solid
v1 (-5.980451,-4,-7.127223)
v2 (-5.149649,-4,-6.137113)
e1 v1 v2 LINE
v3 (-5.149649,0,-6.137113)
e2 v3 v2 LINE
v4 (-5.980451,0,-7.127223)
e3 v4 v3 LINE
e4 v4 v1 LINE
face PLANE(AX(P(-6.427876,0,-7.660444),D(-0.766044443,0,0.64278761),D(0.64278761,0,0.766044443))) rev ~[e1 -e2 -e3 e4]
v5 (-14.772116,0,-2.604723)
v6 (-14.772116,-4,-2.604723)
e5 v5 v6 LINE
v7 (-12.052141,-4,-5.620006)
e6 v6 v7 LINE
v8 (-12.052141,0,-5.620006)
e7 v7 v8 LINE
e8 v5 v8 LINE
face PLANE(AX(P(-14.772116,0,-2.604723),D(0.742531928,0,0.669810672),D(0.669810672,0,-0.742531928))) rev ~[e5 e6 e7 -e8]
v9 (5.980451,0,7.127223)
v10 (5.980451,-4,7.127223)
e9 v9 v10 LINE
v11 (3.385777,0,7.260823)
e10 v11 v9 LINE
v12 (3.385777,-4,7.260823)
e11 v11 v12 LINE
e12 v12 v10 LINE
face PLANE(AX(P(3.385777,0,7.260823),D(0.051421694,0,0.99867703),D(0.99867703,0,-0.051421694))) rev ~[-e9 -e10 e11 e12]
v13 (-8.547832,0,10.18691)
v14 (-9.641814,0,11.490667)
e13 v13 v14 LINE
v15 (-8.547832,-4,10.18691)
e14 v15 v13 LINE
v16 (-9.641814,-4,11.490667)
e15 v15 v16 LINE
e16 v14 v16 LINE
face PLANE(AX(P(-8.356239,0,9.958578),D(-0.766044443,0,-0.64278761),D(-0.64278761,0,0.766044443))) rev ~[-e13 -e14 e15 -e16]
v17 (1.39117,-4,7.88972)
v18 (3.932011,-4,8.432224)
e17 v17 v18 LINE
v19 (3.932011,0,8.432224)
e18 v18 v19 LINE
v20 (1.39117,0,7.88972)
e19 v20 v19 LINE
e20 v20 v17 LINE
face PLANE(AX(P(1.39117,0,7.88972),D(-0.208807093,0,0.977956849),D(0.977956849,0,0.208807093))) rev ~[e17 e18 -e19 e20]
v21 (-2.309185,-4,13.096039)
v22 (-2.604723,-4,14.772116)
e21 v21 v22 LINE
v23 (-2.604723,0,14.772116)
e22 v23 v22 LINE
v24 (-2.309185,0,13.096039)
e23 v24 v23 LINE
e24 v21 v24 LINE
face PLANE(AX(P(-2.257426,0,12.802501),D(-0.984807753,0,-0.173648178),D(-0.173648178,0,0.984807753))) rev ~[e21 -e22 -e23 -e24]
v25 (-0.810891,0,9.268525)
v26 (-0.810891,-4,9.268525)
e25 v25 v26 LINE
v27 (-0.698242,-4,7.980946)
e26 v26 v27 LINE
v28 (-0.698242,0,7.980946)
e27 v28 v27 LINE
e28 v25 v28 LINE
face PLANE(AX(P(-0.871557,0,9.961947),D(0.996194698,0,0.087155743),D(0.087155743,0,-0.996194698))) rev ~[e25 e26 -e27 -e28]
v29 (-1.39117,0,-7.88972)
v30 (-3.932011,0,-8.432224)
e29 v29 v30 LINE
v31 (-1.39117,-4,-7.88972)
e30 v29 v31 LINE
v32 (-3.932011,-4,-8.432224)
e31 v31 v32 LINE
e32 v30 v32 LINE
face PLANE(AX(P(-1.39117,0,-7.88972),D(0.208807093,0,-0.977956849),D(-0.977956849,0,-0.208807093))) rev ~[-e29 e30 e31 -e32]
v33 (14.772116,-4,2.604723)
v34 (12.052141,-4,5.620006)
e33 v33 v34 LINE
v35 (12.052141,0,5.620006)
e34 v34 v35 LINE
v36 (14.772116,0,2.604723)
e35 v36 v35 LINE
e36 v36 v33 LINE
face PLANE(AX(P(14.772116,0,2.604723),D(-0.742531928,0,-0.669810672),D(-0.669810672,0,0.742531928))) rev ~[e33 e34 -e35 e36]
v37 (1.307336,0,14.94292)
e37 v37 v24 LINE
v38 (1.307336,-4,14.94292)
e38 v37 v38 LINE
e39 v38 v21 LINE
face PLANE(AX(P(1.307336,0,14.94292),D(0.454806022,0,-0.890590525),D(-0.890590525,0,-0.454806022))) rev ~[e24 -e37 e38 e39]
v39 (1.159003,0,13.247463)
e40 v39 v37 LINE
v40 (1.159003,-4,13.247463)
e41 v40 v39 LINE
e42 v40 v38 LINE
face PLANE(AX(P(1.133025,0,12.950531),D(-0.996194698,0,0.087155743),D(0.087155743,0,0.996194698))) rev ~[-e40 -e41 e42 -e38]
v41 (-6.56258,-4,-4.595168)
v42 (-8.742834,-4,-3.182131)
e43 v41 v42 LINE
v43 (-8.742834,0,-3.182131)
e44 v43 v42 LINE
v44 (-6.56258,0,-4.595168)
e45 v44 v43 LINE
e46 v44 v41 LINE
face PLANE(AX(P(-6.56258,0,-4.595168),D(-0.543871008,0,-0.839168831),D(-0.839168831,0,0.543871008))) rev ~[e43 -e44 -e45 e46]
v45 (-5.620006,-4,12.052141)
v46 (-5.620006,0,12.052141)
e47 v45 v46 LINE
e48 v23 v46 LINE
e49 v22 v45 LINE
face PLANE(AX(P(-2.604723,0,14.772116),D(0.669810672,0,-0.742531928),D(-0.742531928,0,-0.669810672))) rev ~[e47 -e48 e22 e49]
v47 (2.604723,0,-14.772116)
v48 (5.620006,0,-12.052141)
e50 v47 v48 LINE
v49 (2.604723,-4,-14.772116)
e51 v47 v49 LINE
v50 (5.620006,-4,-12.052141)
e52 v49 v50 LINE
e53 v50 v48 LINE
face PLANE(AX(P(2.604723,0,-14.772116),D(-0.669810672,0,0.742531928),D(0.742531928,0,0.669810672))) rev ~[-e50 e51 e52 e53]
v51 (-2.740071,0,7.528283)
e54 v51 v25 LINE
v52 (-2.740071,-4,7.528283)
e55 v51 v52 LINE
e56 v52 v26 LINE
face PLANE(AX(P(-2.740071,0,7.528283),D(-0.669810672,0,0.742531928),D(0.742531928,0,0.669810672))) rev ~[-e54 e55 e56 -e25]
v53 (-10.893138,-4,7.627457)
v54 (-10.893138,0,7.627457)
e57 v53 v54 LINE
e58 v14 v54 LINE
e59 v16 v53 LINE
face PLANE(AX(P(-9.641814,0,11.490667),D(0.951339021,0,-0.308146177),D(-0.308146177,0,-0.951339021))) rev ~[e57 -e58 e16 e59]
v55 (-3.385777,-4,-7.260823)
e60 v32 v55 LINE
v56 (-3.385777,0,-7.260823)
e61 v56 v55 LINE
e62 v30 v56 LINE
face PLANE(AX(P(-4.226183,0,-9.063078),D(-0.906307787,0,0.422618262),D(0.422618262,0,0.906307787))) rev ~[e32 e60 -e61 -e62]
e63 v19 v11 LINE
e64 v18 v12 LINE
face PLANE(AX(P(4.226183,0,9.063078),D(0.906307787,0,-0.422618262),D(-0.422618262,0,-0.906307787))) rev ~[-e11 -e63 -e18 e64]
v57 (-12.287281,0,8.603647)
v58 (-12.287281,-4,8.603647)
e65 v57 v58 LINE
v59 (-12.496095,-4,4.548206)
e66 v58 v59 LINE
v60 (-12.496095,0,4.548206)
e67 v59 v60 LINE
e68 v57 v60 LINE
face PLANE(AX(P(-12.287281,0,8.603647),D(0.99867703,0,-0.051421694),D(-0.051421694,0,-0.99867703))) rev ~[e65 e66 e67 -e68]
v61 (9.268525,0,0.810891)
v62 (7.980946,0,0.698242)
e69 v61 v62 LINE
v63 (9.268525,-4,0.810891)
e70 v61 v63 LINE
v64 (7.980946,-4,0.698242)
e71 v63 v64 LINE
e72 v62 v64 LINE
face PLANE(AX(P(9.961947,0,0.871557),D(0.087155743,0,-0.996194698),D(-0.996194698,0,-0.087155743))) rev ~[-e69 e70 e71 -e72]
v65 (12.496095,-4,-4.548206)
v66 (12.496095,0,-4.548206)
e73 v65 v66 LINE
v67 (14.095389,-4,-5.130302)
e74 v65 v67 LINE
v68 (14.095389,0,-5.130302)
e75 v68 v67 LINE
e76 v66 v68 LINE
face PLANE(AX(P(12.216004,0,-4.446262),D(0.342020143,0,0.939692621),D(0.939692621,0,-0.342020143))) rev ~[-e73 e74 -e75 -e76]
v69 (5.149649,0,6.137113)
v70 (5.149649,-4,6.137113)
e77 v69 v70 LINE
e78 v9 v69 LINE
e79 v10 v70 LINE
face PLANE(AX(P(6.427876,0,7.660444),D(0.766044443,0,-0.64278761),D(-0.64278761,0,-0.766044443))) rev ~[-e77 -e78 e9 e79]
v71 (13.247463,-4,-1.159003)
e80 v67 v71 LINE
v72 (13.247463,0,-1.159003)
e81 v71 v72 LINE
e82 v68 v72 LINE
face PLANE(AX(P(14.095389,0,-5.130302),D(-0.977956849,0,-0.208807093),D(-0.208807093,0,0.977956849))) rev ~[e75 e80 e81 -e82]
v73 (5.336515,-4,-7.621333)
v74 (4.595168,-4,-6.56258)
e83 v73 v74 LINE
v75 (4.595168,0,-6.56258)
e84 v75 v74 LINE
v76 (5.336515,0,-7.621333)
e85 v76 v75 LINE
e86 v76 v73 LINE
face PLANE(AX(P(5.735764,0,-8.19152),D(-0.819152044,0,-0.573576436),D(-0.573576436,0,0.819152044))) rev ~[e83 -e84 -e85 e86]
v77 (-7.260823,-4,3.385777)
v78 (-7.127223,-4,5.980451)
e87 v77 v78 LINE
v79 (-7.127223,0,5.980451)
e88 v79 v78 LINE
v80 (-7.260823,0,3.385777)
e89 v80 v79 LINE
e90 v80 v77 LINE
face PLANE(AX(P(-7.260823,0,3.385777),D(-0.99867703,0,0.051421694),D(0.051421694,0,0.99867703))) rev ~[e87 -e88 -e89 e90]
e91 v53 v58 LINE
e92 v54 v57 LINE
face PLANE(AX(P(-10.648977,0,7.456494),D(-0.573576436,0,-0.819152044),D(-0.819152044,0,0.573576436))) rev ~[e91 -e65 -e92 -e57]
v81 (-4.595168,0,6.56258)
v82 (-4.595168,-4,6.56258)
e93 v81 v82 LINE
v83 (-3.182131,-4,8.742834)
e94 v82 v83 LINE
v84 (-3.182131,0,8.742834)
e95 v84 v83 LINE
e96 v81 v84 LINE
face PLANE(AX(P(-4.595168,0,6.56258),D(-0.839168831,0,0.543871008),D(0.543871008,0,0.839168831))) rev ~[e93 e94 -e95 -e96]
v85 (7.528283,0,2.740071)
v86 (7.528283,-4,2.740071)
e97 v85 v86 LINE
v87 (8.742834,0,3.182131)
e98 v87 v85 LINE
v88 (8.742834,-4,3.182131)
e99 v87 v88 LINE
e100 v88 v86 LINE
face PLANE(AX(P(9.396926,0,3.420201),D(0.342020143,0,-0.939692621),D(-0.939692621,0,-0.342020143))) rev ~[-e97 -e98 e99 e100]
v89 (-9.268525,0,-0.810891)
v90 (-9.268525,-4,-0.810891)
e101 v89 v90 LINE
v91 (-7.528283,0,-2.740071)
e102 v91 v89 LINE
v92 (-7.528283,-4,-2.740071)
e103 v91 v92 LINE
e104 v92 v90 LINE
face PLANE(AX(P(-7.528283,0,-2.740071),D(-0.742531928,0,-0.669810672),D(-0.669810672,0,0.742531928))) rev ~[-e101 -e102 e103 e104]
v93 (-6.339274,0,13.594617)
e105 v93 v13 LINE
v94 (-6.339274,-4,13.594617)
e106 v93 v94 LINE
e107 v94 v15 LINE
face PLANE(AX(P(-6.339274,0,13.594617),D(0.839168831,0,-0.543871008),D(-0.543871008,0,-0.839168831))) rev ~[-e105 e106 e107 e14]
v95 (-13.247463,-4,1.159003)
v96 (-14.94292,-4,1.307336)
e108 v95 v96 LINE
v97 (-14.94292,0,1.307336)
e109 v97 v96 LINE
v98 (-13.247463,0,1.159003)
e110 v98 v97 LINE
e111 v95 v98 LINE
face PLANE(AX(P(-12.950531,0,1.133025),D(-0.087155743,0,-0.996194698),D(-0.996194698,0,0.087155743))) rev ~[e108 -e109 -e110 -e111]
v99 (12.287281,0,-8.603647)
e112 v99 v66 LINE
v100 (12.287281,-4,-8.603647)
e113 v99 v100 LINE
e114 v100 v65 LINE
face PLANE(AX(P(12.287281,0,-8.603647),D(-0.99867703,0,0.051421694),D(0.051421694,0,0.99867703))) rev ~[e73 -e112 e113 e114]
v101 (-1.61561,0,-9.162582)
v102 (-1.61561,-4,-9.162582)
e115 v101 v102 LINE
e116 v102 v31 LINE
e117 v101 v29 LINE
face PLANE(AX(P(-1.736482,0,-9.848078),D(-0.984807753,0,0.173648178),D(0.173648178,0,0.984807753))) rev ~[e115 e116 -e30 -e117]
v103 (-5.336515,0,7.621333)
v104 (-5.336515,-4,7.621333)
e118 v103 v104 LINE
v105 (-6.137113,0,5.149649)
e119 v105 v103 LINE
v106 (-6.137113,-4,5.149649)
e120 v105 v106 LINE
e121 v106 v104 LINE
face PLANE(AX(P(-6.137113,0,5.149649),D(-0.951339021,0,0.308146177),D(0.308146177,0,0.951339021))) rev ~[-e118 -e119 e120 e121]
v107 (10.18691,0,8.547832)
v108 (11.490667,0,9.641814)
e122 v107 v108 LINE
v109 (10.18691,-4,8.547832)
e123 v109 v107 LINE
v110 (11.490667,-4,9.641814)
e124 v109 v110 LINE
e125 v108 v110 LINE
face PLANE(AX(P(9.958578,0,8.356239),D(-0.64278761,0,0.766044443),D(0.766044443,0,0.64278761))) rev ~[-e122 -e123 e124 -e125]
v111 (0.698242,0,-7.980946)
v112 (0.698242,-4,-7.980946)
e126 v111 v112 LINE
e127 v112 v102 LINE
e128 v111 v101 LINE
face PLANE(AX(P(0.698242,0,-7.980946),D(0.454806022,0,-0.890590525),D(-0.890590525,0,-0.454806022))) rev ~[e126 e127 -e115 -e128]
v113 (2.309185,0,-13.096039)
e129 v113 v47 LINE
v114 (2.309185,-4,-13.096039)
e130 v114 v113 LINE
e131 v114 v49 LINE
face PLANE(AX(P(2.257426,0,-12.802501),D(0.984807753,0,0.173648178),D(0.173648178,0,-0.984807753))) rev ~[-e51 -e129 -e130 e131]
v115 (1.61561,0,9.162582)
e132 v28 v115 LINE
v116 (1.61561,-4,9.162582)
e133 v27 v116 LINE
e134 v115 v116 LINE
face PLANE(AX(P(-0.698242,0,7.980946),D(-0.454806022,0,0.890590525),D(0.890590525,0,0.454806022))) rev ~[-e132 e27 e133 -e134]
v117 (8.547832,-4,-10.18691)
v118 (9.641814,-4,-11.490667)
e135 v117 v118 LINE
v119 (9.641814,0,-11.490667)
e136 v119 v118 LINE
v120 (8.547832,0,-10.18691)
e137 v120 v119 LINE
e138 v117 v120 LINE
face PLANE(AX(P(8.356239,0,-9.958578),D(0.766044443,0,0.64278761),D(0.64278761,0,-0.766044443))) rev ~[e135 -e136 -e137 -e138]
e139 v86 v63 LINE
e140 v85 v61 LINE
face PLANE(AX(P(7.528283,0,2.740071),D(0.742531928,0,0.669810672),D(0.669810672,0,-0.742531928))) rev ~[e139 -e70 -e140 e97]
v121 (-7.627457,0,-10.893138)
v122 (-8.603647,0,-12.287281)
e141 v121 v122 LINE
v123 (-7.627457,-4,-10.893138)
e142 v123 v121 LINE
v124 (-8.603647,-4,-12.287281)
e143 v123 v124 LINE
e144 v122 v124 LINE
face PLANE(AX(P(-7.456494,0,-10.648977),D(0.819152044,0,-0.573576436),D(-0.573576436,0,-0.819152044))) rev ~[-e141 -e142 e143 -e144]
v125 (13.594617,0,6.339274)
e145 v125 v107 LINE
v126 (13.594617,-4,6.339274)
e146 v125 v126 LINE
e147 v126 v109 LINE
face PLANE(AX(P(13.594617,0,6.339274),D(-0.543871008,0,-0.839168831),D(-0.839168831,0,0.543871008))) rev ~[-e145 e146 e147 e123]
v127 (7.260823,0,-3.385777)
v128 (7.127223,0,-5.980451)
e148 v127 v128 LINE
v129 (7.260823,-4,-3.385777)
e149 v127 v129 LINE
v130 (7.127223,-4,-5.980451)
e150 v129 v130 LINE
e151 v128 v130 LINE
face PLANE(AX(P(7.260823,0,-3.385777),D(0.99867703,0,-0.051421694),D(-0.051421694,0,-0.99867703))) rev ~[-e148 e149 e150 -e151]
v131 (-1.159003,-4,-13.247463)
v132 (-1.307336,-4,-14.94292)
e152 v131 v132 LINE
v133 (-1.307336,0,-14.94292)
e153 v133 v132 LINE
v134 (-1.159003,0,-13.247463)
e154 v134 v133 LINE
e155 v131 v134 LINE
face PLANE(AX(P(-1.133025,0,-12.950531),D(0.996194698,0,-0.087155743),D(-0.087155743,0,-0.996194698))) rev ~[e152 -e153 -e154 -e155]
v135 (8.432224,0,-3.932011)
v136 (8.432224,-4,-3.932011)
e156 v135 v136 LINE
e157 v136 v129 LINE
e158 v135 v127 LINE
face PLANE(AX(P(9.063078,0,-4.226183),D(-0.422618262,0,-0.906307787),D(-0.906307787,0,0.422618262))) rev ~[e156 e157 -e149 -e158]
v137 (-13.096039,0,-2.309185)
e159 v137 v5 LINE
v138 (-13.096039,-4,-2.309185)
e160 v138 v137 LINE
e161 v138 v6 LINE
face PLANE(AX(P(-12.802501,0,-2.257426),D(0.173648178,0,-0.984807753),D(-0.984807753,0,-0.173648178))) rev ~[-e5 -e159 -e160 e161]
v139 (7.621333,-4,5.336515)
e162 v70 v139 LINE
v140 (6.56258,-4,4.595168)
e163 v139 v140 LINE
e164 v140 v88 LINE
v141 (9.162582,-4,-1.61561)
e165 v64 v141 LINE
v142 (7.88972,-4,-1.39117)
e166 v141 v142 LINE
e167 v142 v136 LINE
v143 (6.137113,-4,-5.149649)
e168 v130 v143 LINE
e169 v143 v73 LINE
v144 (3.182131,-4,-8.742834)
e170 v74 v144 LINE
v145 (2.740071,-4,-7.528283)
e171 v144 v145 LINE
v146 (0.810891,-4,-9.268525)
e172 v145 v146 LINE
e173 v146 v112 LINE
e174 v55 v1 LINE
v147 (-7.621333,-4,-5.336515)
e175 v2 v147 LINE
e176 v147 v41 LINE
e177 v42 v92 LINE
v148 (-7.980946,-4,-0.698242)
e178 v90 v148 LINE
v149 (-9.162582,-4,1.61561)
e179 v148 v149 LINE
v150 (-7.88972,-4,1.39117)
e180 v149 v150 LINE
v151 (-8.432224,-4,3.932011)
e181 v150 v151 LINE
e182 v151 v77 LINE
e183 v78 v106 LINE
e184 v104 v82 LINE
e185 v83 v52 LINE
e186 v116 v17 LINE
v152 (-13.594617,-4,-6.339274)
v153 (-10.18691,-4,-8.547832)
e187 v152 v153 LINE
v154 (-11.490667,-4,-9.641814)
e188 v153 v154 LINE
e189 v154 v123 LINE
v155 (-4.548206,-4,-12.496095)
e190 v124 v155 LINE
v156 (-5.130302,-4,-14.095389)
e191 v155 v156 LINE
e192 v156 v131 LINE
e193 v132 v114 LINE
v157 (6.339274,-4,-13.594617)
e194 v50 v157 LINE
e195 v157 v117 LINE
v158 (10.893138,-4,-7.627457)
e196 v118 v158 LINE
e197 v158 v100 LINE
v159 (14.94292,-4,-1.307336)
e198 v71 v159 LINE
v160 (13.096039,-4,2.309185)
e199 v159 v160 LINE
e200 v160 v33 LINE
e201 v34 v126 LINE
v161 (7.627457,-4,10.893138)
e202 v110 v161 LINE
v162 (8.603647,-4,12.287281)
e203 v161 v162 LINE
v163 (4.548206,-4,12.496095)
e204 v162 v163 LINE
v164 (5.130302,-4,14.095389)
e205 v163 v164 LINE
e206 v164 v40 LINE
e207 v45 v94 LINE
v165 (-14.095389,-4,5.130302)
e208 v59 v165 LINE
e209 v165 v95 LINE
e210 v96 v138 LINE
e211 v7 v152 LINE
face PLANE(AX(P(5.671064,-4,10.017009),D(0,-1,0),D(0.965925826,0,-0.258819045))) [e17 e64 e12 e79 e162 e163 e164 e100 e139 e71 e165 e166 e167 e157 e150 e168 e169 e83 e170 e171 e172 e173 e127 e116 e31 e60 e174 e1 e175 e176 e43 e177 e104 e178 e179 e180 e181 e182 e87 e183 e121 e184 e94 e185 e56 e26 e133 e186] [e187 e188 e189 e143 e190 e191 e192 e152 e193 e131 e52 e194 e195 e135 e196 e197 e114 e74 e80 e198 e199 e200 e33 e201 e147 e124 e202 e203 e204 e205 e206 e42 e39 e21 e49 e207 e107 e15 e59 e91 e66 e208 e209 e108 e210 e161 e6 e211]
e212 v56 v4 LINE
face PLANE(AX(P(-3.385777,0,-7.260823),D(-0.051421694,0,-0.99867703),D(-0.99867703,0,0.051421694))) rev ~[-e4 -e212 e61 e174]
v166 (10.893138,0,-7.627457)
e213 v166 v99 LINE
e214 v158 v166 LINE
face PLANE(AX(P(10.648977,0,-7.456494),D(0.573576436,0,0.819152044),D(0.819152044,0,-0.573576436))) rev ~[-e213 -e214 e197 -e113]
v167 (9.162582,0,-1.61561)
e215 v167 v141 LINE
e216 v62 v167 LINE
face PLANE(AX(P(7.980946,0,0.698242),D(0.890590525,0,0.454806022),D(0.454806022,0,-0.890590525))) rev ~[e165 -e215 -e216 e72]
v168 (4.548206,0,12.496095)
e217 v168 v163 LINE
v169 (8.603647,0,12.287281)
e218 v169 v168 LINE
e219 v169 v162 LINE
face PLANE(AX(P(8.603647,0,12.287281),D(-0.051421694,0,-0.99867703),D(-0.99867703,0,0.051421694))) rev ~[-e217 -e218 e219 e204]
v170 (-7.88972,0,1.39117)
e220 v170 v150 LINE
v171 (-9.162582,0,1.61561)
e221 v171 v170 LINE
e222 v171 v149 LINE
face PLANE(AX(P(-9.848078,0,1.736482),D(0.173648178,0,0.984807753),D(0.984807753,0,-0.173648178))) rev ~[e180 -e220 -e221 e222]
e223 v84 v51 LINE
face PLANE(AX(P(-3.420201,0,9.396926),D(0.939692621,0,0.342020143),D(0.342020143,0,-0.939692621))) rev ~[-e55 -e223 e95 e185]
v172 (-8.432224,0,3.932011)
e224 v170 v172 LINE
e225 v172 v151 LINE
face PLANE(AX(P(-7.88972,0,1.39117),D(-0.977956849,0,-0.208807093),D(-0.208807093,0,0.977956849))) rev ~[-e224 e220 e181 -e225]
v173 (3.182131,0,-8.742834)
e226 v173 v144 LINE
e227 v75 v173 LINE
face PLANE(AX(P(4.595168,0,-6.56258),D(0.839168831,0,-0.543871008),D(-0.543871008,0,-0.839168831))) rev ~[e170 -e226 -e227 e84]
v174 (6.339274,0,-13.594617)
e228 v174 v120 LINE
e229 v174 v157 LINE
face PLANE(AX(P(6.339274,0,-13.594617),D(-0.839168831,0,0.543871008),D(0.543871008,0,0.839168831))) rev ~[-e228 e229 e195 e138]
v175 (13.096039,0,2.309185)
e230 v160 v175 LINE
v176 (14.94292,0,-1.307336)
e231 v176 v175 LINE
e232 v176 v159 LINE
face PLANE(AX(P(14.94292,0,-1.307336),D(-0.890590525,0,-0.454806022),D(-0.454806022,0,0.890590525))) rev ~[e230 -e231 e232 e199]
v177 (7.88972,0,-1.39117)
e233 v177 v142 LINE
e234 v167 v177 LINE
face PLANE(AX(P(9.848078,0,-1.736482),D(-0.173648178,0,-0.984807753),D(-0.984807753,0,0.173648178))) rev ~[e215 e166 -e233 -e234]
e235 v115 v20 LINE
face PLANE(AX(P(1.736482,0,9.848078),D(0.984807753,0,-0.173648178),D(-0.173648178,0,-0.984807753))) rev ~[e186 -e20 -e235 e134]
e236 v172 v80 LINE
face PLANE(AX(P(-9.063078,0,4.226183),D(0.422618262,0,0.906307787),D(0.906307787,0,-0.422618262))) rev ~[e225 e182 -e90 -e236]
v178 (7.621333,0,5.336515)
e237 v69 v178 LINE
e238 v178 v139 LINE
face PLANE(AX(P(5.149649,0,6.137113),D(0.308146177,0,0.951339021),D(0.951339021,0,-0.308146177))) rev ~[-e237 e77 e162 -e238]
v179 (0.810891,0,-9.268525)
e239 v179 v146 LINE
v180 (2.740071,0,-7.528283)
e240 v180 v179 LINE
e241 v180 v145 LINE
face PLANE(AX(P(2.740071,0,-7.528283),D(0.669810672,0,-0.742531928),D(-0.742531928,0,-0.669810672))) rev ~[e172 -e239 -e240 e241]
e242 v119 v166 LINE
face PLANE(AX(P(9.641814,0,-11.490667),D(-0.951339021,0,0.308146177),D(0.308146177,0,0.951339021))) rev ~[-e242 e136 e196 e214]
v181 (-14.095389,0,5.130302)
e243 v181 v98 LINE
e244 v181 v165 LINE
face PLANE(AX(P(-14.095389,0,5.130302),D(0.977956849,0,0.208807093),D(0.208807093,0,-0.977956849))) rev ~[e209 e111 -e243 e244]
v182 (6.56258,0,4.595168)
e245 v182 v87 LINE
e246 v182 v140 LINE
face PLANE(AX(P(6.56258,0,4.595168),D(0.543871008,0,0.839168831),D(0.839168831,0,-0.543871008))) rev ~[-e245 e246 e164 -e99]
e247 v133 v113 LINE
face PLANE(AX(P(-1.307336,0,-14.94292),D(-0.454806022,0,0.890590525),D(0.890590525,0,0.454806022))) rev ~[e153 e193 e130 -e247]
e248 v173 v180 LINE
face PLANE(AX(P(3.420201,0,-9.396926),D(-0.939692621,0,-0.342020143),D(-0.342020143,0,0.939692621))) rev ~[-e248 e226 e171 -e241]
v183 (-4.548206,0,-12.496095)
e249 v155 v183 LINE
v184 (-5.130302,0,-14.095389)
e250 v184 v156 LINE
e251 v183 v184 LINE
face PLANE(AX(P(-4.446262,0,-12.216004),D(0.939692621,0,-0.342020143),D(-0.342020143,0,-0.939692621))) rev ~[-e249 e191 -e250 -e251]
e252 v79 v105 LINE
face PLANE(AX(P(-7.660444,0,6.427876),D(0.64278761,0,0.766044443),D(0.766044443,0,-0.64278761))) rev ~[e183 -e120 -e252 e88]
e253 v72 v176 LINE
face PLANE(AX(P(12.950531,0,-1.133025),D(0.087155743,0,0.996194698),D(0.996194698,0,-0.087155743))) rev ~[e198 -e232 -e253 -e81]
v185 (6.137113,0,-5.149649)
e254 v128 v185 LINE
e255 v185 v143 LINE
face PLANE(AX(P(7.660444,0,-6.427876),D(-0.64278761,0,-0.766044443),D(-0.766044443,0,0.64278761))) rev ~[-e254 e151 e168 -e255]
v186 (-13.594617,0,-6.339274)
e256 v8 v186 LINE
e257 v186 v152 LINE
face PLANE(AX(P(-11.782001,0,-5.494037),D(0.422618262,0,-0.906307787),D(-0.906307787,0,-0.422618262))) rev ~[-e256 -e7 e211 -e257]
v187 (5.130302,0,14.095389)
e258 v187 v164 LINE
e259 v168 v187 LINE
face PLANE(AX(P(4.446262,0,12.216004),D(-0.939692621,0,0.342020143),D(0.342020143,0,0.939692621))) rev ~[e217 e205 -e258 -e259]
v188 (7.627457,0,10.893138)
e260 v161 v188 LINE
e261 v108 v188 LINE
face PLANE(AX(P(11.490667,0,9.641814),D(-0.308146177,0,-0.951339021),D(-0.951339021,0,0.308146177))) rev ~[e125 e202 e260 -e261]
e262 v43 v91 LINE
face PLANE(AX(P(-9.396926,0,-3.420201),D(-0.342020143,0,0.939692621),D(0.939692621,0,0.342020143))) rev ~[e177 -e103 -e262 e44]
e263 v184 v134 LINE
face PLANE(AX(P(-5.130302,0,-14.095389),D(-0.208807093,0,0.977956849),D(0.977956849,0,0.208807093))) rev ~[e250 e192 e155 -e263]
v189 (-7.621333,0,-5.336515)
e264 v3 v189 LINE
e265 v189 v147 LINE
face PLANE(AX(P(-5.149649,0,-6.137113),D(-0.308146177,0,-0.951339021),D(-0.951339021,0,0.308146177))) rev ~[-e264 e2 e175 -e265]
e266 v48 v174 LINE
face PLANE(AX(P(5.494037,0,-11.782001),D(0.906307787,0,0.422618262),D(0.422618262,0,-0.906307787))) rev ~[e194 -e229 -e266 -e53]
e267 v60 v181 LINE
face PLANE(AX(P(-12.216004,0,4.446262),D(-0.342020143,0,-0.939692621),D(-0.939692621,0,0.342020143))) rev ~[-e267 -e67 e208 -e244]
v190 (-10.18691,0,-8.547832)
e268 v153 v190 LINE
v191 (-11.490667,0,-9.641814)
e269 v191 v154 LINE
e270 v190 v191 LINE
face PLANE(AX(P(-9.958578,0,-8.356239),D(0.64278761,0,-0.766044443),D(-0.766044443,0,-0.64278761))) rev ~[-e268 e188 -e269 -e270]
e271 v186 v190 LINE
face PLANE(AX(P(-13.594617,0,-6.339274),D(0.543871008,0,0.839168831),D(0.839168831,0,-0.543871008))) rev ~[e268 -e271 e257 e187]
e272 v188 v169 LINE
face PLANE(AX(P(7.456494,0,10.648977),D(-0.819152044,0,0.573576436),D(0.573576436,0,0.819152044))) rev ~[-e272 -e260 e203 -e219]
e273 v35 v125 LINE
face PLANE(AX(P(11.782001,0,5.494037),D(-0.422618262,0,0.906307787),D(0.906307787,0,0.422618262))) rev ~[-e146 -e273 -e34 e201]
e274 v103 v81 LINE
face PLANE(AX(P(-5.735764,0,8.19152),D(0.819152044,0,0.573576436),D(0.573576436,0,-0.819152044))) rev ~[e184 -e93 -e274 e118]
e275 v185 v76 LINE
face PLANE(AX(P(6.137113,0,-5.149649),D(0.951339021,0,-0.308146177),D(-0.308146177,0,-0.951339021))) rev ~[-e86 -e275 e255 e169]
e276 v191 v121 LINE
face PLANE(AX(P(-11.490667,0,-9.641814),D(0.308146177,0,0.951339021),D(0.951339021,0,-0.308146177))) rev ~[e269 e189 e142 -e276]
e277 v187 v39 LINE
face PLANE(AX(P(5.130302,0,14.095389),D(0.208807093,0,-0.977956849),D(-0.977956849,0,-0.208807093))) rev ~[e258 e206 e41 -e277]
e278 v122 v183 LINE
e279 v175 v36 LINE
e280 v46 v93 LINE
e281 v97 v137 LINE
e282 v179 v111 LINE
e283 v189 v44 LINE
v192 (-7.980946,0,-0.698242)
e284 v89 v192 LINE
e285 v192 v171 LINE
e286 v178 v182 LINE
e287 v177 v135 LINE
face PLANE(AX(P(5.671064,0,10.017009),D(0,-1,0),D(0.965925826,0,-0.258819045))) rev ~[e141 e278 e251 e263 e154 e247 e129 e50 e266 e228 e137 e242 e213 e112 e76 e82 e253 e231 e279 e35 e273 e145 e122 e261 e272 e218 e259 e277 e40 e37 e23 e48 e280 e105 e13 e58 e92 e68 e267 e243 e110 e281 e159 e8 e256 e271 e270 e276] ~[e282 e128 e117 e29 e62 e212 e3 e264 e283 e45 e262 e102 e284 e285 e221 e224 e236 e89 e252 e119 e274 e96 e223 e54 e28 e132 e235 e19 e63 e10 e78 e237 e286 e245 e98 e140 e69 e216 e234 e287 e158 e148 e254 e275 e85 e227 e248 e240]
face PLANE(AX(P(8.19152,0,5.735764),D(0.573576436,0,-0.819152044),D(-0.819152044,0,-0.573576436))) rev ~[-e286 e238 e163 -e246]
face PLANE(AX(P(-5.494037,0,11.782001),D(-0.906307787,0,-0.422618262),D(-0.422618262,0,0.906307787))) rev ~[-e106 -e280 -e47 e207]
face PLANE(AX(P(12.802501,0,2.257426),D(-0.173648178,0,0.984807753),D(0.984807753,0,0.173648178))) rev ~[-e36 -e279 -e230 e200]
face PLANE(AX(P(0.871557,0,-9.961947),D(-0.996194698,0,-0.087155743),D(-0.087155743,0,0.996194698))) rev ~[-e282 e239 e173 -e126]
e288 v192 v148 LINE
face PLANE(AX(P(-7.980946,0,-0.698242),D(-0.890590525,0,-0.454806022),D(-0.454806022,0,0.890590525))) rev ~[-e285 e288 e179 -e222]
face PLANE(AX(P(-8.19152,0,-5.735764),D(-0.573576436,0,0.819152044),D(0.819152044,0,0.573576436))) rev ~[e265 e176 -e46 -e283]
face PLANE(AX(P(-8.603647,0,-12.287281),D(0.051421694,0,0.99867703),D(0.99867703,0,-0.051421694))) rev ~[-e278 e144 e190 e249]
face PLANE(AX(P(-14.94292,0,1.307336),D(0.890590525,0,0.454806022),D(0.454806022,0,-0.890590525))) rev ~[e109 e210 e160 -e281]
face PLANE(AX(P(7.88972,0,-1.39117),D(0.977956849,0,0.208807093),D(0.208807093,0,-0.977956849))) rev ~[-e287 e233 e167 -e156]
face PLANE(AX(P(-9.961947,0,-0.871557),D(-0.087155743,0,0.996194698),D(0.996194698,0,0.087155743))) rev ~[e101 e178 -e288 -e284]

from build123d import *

# Parameters (mm, degrees)
F1_DEPTH = 4
F2_COUNT = 24


with BuildPart() as f1:
    # F0 (on Front) → F1 (new body)
    with BuildSketch(Plane.XZ):
        Polygon((5.1303021499, 14.0953893118), (0, 13), (1.7364817767, 9.8480775301), (1.3911704768, 7.889719833), (5, 8.6602540378), (4.4462618632, 12.2160040702), align=None)
    extrude(amount=F1_DEPTH)

    # F2: F1 ×24 about axis
    f2_axis = Axis((0, 0, 0), (0, -1, 0))


with BuildPart() as f1_1:
    add(f1.part)
    for i in range(1, F2_COUNT):
        add(f1.part.rotate(f2_axis, i * 360 / F2_COUNT))


solid = f1_1.part
